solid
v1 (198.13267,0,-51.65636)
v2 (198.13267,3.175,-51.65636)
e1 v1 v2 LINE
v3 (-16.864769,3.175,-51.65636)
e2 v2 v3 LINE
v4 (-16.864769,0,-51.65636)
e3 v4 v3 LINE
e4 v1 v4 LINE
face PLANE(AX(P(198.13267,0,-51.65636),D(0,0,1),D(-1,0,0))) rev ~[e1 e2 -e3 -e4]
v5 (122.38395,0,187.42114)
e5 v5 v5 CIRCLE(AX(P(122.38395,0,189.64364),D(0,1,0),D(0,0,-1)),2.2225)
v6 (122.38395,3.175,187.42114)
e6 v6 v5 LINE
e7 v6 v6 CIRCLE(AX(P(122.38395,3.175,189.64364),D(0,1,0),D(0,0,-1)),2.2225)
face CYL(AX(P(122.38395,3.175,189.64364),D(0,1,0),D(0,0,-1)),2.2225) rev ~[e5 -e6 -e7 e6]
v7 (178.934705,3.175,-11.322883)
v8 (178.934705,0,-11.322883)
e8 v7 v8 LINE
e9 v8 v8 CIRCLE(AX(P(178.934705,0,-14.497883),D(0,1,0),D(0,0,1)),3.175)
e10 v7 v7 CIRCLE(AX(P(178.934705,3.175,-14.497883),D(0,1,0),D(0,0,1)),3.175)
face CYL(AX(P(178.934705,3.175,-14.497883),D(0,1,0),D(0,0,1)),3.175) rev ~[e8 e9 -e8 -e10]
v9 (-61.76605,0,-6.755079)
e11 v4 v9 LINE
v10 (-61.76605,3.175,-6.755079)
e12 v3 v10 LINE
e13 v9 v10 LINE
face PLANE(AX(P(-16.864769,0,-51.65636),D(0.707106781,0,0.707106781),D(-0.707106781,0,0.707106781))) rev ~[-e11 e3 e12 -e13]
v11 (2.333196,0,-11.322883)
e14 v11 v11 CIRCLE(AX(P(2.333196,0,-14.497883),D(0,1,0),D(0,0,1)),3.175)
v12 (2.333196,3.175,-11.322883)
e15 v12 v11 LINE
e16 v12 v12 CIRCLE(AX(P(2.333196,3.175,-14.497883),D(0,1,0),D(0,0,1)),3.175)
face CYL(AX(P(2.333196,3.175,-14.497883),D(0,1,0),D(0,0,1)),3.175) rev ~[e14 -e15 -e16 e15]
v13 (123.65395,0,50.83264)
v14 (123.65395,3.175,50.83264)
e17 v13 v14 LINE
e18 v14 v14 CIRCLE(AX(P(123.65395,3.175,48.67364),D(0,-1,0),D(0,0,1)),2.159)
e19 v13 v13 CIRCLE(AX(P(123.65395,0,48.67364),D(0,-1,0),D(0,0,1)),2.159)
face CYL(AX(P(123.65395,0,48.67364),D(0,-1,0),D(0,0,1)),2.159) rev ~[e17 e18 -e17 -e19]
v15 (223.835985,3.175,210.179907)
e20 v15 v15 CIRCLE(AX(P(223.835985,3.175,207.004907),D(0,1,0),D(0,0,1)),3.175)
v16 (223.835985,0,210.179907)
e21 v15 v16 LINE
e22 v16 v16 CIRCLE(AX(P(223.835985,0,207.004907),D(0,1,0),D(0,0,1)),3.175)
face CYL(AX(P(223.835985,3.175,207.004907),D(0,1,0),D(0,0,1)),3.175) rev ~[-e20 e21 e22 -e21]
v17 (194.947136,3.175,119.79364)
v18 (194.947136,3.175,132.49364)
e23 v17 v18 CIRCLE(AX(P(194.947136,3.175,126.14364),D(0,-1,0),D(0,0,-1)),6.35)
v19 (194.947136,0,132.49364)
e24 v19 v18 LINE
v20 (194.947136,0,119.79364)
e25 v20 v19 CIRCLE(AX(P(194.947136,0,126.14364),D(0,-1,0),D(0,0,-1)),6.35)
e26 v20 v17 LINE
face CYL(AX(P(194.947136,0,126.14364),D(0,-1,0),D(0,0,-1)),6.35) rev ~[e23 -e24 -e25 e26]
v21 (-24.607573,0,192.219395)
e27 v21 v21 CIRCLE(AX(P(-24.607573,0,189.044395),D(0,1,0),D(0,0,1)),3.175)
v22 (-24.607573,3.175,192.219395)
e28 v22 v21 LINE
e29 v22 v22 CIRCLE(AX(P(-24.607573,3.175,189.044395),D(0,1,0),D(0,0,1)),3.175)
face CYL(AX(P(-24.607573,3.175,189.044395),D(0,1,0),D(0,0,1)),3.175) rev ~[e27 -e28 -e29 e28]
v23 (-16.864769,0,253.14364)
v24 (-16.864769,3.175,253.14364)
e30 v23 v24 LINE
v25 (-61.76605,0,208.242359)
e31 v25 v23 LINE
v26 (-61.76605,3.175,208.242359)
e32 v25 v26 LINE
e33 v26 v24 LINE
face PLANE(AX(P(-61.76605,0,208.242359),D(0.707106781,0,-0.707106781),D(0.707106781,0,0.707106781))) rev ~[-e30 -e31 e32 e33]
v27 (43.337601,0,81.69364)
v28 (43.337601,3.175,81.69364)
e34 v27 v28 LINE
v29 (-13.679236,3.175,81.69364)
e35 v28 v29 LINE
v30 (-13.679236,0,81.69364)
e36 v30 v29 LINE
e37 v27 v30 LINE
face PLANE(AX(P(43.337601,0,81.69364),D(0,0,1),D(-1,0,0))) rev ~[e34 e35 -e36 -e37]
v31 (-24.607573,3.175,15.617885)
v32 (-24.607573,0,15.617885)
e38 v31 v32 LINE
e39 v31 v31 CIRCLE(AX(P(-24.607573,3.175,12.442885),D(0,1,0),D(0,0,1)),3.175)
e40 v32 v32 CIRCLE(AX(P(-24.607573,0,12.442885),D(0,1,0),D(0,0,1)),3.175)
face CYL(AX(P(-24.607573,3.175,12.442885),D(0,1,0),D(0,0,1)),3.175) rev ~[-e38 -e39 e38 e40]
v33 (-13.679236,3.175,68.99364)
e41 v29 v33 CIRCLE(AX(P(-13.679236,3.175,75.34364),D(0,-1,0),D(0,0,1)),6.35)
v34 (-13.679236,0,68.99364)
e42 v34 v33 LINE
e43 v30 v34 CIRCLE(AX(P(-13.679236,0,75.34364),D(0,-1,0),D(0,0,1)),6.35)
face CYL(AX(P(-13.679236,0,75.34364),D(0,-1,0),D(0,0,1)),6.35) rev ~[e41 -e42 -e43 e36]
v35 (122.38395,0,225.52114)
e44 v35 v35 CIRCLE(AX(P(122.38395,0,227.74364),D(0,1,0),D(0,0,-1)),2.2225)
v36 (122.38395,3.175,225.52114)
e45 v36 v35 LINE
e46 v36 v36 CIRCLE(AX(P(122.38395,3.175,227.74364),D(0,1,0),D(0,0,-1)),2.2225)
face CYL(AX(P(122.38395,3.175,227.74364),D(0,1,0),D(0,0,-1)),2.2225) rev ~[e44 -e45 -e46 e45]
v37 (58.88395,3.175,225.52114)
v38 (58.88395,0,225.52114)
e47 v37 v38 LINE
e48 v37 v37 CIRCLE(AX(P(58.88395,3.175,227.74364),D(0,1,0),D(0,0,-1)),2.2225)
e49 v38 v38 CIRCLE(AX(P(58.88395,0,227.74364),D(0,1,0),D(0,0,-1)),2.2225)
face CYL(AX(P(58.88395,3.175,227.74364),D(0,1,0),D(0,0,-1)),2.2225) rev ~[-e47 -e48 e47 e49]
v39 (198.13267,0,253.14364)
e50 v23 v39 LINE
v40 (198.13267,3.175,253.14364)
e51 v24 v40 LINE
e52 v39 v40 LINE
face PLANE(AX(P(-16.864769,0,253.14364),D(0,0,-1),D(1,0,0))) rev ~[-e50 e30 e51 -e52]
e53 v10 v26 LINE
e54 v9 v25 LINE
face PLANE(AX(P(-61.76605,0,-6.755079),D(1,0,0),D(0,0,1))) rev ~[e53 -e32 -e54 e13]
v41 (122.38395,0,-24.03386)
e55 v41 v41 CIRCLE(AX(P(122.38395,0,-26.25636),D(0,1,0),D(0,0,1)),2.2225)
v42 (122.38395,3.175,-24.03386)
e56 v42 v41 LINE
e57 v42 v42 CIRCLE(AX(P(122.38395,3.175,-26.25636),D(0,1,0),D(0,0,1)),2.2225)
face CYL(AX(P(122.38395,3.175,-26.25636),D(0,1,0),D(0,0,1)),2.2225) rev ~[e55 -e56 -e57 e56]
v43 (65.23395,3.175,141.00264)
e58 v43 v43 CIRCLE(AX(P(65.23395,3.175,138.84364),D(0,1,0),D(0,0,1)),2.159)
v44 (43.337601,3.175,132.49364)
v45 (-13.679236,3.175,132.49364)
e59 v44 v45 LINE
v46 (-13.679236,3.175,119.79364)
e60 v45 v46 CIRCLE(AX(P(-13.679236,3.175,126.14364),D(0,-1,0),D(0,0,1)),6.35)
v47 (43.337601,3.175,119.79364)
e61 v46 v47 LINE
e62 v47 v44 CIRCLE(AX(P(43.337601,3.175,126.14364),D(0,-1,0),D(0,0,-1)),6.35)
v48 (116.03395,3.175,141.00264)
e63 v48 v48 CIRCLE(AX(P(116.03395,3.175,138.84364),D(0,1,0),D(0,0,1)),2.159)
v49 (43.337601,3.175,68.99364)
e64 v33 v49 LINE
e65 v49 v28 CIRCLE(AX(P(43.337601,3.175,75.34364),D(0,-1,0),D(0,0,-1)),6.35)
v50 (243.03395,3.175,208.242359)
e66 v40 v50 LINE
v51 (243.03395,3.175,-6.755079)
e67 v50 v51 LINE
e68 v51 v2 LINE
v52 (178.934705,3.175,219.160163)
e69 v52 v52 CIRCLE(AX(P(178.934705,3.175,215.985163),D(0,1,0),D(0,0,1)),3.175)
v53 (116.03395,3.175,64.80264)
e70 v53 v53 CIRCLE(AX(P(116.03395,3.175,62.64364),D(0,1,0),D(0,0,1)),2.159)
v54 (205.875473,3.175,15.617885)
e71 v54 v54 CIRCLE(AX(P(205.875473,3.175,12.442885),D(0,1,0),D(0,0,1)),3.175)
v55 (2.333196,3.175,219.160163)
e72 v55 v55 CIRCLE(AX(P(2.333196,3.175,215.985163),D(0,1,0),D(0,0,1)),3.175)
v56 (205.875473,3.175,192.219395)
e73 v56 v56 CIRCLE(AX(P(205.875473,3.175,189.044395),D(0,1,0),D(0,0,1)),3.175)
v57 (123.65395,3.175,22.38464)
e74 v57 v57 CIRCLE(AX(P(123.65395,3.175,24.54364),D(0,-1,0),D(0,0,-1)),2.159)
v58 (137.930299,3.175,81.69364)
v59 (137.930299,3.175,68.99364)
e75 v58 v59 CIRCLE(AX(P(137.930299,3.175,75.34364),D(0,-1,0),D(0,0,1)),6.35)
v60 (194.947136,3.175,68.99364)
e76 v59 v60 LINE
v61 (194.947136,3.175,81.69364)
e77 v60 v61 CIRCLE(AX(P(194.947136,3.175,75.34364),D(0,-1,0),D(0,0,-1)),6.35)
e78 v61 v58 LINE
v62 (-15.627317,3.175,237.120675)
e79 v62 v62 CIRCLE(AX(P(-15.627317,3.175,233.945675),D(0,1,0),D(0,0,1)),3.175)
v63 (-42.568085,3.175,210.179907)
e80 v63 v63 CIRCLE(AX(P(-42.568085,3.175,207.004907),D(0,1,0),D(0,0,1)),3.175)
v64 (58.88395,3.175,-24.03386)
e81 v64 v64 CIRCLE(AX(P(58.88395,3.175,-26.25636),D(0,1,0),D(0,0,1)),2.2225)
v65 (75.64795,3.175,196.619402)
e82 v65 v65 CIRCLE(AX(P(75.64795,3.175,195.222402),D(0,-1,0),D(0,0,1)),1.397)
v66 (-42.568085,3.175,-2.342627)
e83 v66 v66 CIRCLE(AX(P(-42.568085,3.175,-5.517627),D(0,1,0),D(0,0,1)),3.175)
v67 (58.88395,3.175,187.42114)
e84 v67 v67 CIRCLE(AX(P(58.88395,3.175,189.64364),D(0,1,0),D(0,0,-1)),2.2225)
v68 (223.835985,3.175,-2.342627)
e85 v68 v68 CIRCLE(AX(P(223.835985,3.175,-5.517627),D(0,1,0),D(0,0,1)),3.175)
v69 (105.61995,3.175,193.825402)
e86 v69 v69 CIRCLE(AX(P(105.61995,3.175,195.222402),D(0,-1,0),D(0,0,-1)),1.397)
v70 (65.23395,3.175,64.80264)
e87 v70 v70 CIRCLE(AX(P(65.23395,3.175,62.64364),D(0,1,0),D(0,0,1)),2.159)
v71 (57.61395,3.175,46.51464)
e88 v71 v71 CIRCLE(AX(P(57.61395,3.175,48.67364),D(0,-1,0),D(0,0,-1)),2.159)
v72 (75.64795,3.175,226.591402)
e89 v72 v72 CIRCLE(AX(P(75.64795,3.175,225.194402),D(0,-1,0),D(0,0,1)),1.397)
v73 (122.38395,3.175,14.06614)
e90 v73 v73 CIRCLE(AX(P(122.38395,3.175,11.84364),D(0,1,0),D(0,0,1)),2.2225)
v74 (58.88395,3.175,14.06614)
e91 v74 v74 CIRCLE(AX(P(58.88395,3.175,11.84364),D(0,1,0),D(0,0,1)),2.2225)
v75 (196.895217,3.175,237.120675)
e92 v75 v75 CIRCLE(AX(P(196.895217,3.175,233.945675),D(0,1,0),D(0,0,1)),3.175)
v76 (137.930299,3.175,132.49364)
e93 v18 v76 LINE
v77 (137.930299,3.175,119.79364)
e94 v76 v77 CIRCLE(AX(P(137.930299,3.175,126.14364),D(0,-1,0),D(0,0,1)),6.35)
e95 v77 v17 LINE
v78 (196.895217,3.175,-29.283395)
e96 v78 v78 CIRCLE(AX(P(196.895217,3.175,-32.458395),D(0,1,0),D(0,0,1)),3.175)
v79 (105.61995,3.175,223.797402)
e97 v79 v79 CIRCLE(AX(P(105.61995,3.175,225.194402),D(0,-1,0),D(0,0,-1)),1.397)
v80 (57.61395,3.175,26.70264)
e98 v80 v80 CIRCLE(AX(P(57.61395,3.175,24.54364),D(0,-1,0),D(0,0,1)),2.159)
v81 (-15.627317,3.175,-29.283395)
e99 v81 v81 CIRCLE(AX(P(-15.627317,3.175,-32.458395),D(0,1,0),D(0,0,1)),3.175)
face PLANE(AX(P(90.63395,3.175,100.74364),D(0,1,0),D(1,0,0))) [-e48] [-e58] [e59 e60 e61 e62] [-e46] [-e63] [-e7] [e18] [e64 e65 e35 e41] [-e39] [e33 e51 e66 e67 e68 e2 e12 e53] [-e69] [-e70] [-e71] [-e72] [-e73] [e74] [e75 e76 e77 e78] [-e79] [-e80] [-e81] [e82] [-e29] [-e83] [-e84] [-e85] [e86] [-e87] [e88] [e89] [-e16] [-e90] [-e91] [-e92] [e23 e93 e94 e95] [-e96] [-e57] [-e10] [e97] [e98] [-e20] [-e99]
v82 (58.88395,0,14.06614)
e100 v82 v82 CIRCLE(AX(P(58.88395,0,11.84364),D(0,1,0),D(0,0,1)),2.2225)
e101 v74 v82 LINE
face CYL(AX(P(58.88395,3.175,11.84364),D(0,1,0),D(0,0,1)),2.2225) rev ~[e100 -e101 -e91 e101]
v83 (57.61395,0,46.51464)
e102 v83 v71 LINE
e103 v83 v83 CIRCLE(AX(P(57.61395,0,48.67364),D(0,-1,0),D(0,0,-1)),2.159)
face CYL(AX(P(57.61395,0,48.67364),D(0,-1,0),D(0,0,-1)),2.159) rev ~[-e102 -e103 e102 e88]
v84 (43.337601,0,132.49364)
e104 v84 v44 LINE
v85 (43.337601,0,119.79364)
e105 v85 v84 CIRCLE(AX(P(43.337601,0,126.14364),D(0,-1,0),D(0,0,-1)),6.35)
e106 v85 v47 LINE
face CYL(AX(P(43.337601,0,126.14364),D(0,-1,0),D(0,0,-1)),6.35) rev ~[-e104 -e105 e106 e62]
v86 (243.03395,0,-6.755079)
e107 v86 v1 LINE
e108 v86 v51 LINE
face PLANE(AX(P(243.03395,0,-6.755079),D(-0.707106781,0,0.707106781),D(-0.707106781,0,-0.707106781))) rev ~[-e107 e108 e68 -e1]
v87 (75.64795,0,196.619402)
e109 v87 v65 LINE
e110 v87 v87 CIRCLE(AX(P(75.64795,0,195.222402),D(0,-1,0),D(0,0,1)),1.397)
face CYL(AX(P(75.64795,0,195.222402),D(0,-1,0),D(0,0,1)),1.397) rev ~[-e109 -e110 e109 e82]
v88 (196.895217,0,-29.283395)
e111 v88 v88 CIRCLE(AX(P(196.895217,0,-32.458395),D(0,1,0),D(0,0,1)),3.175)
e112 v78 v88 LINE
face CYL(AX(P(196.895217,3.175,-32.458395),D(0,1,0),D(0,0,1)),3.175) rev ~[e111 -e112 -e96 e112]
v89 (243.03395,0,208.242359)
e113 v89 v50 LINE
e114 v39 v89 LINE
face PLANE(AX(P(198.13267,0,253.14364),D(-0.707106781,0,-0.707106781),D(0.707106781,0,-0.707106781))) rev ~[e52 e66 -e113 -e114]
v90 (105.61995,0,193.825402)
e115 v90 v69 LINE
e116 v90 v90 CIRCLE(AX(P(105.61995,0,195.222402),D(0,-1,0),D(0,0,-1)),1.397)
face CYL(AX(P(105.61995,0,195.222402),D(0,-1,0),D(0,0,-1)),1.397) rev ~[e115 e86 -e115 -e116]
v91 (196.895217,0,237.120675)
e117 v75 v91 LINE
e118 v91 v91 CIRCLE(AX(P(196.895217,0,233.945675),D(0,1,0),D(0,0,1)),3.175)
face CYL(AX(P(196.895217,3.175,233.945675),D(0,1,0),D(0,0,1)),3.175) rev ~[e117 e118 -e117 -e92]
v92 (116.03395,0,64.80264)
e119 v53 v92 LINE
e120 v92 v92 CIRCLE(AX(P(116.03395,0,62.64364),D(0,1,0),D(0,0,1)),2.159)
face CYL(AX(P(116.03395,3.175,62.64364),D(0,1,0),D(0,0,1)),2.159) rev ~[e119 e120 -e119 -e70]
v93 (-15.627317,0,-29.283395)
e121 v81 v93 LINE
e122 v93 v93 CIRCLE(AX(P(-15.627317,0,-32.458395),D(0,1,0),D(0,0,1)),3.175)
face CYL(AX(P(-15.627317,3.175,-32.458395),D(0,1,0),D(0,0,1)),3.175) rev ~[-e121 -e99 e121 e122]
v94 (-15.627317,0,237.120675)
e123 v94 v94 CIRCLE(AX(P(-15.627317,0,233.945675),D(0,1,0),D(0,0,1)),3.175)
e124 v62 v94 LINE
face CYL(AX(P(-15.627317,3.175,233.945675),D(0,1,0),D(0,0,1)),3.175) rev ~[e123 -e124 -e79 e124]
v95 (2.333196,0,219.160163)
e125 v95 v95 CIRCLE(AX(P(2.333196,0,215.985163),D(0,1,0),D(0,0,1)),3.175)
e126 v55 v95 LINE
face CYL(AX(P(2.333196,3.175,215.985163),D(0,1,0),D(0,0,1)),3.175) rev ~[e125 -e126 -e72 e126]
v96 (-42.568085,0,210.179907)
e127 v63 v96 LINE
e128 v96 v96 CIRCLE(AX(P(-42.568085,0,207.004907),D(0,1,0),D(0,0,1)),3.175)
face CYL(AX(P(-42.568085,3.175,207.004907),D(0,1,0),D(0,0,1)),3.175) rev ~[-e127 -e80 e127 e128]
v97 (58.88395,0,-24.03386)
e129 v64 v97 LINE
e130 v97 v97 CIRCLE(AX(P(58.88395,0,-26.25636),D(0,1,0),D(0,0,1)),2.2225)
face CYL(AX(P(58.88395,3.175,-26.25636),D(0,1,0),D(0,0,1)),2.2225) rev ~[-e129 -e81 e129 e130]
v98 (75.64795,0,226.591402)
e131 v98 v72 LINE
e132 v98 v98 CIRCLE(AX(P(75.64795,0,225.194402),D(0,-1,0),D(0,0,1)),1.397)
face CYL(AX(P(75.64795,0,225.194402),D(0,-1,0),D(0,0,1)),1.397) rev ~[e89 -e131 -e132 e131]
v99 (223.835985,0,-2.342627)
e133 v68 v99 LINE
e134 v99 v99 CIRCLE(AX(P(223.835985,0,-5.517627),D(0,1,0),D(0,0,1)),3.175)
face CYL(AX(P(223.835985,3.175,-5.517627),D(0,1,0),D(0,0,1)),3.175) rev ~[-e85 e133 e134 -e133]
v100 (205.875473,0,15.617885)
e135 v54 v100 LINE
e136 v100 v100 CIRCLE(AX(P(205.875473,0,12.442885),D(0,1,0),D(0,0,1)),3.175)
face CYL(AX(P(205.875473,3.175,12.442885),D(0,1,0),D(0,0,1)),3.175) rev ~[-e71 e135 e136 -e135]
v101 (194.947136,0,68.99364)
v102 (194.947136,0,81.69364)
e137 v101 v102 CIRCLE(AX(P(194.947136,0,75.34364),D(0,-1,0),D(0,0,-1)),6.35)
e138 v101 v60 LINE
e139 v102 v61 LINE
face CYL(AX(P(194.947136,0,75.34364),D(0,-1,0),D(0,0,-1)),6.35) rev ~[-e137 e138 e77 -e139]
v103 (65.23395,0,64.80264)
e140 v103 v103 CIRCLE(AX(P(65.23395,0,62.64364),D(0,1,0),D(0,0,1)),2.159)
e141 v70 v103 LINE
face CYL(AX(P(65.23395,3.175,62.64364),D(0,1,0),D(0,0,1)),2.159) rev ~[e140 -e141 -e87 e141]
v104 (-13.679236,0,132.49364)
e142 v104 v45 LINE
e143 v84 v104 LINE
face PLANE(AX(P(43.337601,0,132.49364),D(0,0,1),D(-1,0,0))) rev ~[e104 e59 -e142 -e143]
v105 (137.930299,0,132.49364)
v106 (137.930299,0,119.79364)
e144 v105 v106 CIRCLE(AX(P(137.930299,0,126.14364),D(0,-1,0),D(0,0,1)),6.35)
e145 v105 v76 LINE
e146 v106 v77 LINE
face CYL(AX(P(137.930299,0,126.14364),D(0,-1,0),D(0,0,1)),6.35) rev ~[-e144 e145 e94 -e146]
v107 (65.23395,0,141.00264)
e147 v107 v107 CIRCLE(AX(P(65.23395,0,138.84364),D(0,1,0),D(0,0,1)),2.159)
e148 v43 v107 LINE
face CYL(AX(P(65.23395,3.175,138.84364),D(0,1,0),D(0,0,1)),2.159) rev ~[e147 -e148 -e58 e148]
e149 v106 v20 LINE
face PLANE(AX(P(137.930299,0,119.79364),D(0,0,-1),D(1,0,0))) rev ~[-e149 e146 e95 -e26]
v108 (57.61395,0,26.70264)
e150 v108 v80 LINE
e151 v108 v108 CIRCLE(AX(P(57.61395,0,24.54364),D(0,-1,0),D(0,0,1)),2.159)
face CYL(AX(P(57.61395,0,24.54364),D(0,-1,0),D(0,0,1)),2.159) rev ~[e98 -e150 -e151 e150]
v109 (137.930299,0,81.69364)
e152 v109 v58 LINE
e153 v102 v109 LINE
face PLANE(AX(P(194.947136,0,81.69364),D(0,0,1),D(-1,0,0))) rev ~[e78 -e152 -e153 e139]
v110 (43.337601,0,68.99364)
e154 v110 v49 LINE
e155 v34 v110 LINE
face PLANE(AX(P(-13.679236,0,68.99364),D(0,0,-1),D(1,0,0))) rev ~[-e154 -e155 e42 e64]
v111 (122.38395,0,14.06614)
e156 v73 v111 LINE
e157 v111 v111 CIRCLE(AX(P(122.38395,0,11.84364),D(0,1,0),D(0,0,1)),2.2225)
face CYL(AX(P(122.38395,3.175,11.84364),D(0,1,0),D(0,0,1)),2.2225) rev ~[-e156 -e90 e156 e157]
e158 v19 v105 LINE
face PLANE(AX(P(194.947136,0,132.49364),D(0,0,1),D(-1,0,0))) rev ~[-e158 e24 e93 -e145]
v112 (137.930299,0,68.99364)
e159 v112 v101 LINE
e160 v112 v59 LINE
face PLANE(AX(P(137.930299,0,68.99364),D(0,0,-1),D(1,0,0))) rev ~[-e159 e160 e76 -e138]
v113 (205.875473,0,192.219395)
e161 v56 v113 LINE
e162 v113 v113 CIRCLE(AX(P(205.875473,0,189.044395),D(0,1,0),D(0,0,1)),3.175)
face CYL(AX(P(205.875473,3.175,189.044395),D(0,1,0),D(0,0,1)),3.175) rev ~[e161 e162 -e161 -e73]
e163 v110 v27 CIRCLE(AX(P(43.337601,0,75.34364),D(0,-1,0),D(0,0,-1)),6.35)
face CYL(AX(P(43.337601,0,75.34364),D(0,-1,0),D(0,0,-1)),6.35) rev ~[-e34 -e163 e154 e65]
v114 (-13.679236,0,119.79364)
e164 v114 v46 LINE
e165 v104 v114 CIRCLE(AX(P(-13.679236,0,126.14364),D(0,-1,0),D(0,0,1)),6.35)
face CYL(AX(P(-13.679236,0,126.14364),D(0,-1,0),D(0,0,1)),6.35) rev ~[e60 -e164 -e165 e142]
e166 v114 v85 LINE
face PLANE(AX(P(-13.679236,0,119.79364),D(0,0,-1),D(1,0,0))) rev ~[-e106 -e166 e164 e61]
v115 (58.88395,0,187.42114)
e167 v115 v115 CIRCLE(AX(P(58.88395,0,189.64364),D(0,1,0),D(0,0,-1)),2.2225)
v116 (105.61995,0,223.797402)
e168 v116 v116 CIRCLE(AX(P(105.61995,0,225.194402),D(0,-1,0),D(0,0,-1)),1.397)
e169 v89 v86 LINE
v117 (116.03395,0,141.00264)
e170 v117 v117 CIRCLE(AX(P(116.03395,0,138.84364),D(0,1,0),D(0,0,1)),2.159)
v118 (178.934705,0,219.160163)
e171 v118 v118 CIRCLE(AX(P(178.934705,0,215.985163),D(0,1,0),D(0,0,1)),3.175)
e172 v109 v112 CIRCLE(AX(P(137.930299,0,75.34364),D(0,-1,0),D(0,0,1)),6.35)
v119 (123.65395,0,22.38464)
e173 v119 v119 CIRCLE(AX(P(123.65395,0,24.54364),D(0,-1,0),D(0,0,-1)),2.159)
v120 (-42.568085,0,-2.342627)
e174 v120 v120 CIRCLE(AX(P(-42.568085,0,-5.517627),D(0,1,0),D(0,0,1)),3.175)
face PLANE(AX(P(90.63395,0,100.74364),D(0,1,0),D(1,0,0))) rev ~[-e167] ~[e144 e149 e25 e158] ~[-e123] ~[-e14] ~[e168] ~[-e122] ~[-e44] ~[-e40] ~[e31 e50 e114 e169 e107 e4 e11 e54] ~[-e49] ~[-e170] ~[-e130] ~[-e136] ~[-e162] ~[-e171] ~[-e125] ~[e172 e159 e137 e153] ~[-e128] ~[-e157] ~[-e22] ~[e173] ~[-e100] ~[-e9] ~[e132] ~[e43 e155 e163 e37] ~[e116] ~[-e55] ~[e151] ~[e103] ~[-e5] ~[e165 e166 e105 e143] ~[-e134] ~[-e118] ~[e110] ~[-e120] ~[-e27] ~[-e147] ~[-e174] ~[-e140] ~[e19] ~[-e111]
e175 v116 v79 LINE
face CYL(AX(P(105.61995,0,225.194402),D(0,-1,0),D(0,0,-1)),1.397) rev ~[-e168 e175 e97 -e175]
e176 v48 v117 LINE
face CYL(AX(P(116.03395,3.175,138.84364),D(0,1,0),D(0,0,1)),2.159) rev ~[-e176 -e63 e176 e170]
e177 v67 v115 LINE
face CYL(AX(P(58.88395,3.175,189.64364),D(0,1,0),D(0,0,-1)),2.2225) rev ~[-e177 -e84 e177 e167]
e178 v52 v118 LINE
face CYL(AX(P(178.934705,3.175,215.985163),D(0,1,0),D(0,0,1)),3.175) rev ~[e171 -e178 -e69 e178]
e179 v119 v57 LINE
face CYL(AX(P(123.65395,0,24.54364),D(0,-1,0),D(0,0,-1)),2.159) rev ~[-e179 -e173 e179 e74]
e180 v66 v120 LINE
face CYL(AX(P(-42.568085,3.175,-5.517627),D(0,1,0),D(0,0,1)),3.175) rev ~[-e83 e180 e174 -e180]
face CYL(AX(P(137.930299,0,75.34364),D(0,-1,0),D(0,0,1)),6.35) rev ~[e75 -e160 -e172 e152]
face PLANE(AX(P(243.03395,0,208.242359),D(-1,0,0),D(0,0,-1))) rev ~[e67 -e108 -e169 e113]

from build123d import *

# Parameters (mm, degrees)
BOSS_EXTRUDE1_DEPTH = 3.175
SKETCH2_R           = 3.175
CUT_EXTRUDE1_DEPTH  = 6.35
SKETCH3_R           = 2.159
CUT_EXTRUDE2_DEPTH  = 6.35
SKETCH4_R           = 2.2225
CUT_EXTRUDE3_DEPTH  = 351.937720963
SKETCH10_R          = 1.397
CUT_EXTRUDE4_DEPTH  = 351.937720963
SKETCH11_R          = 2.159
CUT_EXTRUDE6_DEPTH  = 351.937720963


with BuildPart() as part:
    # Sketch1 → Boss-Extrude1 (new body)
    with BuildSketch(Plane(origin=(0, 0, 0), x_dir=(1, 0, 0), z_dir=(0, 1, 0))):
        Polygon((-16.864769233, 51.656360067), (-61.766049839, 6.755079462), (-61.766049839, -208.242359328), (-16.864769233, -253.143639933), (198.132669556, -253.143639933), (243.033950161, -208.242359328), (243.033950161, 6.755079462), (198.132669556, 51.656360067), align=None)
        with BuildLine():
            ThreePointArc((43.337601054, -119.793639933), (49.687601054, -126.143639933), (43.337601054, -132.493639933))
            Line((43.337601054, -132.493639933), (-13.679235779, -132.493639933))
            ThreePointArc((-13.679235779, -132.493639933), (-20.029235779, -126.143639933), (-13.679235779, -119.793639933))
            Line((-13.679235779, -119.793639933), (43.337601054, -119.793639933))
        make_face(mode=Mode.SUBTRACT)
        with BuildLine():
            Line((194.947136102, -132.493639933), (137.930299269, -132.493639933))
            ThreePointArc((137.930299269, -132.493639933), (131.580299269, -126.143639933), (137.930299269, -119.793639933))
            Line((137.930299269, -119.793639933), (194.947136102, -119.793639933))
            ThreePointArc((194.947136102, -119.793639933), (201.297136102, -126.143639933), (194.947136102, -132.493639933))
        make_face(mode=Mode.SUBTRACT)
        with BuildLine():
            Line((-13.679235779, -68.993639933), (43.337601054, -68.993639933))
            ThreePointArc((43.337601054, -68.993639933), (49.687601054, -75.343639933), (43.337601054, -81.693639933))
            Line((43.337601054, -81.693639933), (-13.679235779, -81.693639933))
            ThreePointArc((-13.679235779, -81.693639933), (-20.029235779, -75.343639933), (-13.679235779, -68.993639933))
        make_face(mode=Mode.SUBTRACT)
        with BuildLine():
            ThreePointArc((137.930299269, -81.693639933), (131.580299269, -75.343639933), (137.930299269, -68.993639933))
            Line((137.930299269, -68.993639933), (194.947136102, -68.993639933))
            ThreePointArc((194.947136102, -68.993639933), (201.297136102, -75.343639933), (194.947136102, -81.693639933))
            Line((194.947136102, -81.693639933), (137.930299269, -81.693639933))
        make_face(mode=Mode.SUBTRACT)
    extrude(amount=BOSS_EXTRUDE1_DEPTH)

    # Sketch2 → Cut-Extrude1 (cut)
    with BuildSketch(Plane(origin=(0, 3.175, 0), x_dir=(1, 0, 0), z_dir=(0, 1, 0))):
        with Locations(Location((-15.627316695, 32.458395287, 0), (0, 0, 270))):
            Circle(SKETCH2_R)
        with Locations(Location((2.333195547, 14.497883045, 0), (0, 0, 270))):
            Circle(SKETCH2_R)
        with Locations(Location((-24.607572816, -12.442885319, 0), (0, 0, 270))):
            Circle(SKETCH2_R)
        with Locations(Location((-42.568085059, 5.517626924, 0), (0, 0, 270))):
            Circle(SKETCH2_R)
        with Locations(Location((205.875473139, -12.442885319, 0), (0, 0, 270))):
            Circle(SKETCH2_R)
        with Locations(Location((223.835985381, 5.517626924, 0), (0, 0, 270))):
            Circle(SKETCH2_R)
        with Locations(Location((178.934704776, 14.497883045, 0), (0, 0, 270))):
            Circle(SKETCH2_R)
        with Locations(Location((196.895217018, 32.458395287, 0), (0, 0, 270))):
            Circle(SKETCH2_R)
        with Locations(Location((-24.607572816, -189.044394548, 0), (0, 0, 270))):
            Circle(SKETCH2_R)
        with Locations(Location((-42.568085059, -207.00490679, 0), (0, 0, 270))):
            Circle(SKETCH2_R)
        with Locations(Location((-15.627316695, -233.945675153, 0), (0, 0, 270))):
            Circle(SKETCH2_R)
        with Locations(Location((2.333195547, -215.985162911, 0), (0, 0, 270))):
            Circle(SKETCH2_R)
        with Locations(Location((223.835985381, -207.00490679, 0), (0, 0, 270))):
            Circle(SKETCH2_R)
        with Locations(Location((196.895217018, -233.945675153, 0), (0, 0, 270))):
            Circle(SKETCH2_R)
        with Locations(Location((178.934704776, -215.985162911, 0), (0, 0, 270))):
            Circle(SKETCH2_R)
        with Locations(Location((205.875473139, -189.044394548, 0), (0, 0, 270))):
            Circle(SKETCH2_R)
    extrude(amount=-CUT_EXTRUDE1_DEPTH, mode=Mode.SUBTRACT)

    # Sketch3 → Cut-Extrude2 (cut)
    with BuildSketch(Plane(origin=(0, 3.175, 0), x_dir=(1, 0, 0), z_dir=(0, 1, 0))):
        with Locations(Location((65.233950161, -62.643639933, 0), (0, 0, 270))):
            Circle(SKETCH3_R)
        with Locations(Location((116.033950161, -62.643639933, 0), (0, 0, 270))):
            Circle(SKETCH3_R)
        with Locations(Location((65.233950161, -138.843639933, 0), (0, 0, 270))):
            Circle(SKETCH3_R)
        with Locations(Location((116.033950161, -138.843639933, 0), (0, 0, 270))):
            Circle(SKETCH3_R)
    extrude(amount=-CUT_EXTRUDE2_DEPTH, mode=Mode.SUBTRACT)

    # Sketch4 → Cut-Extrude3 (cut, through all)
    with BuildSketch(Plane(origin=(0, 3.175, 0), x_dir=(1, 0, 0), z_dir=(0, 1, 0))):
        with Locations(Location((58.883950161, 26.256360067, 0), (0, 0, 270))):
            Circle(SKETCH4_R)
        with Locations(Location((122.383950161, 26.256360067, 0), (0, 0, 270))):
            Circle(SKETCH4_R)
        with Locations(Location((58.883950161, -11.843639933, 0), (0, 0, 270))):
            Circle(SKETCH4_R)
        with Locations(Location((122.383950161, -11.843639933, 0), (0, 0, 270))):
            Circle(SKETCH4_R)
        with Locations(Location((122.383950161, -189.643639933, 0), (0, 0, 90))):
            Circle(SKETCH4_R)
        with Locations(Location((58.883950161, -189.643639933, 0), (0, 0, 90))):
            Circle(SKETCH4_R)
        with Locations(Location((122.383950161, -227.743639933, 0), (0, 0, 90))):
            Circle(SKETCH4_R)
        with Locations(Location((58.883950161, -227.743639933, 0), (0, 0, 90))):
            Circle(SKETCH4_R)
    extrude(amount=-CUT_EXTRUDE3_DEPTH, mode=Mode.SUBTRACT)

    # Sketch10 → Cut-Extrude4 (cut, through all)
    with BuildSketch(Plane(origin=(0, 0, 0), x_dir=(-1, 0, 0), z_dir=(0, -1, 0))):
        with Locations(Location((-105.619950161, -195.222402366, 0), (0, 0, 90))):
            Circle(SKETCH10_R)
        with Locations(Location((-105.619950161, -225.194402366, 0), (0, 0, 90))):
            Circle(SKETCH10_R)
        with Locations(Location((-75.647950161, -225.194402366, 0), (0, 0, 270))):
            Circle(SKETCH10_R)
        with Locations(Location((-75.647950161, -195.222402366, 0), (0, 0, 270))):
            Circle(SKETCH10_R)
    extrude(amount=-CUT_EXTRUDE4_DEPTH, mode=Mode.SUBTRACT)

    # Sketch11 → Cut-Extrude6 (cut, through all)
    with BuildSketch(Plane.XZ):
        with Locations(Location((123.653950161, 24.543639933, 0), (0, 0, 270))):
            Circle(SKETCH11_R)
        with Locations(Location((123.653950161, 48.673639933, 0), (0, 0, 90))):
            Circle(SKETCH11_R)
        with Locations(Location((57.613950161, 48.673639933, 0), (0, 0, 270))):
            Circle(SKETCH11_R)
        with Locations(Location((57.613950161, 24.543639933, 0), (0, 0, 90))):
            Circle(SKETCH11_R)
    extrude(amount=-CUT_EXTRUDE6_DEPTH, mode=Mode.SUBTRACT)


solid = part.part
